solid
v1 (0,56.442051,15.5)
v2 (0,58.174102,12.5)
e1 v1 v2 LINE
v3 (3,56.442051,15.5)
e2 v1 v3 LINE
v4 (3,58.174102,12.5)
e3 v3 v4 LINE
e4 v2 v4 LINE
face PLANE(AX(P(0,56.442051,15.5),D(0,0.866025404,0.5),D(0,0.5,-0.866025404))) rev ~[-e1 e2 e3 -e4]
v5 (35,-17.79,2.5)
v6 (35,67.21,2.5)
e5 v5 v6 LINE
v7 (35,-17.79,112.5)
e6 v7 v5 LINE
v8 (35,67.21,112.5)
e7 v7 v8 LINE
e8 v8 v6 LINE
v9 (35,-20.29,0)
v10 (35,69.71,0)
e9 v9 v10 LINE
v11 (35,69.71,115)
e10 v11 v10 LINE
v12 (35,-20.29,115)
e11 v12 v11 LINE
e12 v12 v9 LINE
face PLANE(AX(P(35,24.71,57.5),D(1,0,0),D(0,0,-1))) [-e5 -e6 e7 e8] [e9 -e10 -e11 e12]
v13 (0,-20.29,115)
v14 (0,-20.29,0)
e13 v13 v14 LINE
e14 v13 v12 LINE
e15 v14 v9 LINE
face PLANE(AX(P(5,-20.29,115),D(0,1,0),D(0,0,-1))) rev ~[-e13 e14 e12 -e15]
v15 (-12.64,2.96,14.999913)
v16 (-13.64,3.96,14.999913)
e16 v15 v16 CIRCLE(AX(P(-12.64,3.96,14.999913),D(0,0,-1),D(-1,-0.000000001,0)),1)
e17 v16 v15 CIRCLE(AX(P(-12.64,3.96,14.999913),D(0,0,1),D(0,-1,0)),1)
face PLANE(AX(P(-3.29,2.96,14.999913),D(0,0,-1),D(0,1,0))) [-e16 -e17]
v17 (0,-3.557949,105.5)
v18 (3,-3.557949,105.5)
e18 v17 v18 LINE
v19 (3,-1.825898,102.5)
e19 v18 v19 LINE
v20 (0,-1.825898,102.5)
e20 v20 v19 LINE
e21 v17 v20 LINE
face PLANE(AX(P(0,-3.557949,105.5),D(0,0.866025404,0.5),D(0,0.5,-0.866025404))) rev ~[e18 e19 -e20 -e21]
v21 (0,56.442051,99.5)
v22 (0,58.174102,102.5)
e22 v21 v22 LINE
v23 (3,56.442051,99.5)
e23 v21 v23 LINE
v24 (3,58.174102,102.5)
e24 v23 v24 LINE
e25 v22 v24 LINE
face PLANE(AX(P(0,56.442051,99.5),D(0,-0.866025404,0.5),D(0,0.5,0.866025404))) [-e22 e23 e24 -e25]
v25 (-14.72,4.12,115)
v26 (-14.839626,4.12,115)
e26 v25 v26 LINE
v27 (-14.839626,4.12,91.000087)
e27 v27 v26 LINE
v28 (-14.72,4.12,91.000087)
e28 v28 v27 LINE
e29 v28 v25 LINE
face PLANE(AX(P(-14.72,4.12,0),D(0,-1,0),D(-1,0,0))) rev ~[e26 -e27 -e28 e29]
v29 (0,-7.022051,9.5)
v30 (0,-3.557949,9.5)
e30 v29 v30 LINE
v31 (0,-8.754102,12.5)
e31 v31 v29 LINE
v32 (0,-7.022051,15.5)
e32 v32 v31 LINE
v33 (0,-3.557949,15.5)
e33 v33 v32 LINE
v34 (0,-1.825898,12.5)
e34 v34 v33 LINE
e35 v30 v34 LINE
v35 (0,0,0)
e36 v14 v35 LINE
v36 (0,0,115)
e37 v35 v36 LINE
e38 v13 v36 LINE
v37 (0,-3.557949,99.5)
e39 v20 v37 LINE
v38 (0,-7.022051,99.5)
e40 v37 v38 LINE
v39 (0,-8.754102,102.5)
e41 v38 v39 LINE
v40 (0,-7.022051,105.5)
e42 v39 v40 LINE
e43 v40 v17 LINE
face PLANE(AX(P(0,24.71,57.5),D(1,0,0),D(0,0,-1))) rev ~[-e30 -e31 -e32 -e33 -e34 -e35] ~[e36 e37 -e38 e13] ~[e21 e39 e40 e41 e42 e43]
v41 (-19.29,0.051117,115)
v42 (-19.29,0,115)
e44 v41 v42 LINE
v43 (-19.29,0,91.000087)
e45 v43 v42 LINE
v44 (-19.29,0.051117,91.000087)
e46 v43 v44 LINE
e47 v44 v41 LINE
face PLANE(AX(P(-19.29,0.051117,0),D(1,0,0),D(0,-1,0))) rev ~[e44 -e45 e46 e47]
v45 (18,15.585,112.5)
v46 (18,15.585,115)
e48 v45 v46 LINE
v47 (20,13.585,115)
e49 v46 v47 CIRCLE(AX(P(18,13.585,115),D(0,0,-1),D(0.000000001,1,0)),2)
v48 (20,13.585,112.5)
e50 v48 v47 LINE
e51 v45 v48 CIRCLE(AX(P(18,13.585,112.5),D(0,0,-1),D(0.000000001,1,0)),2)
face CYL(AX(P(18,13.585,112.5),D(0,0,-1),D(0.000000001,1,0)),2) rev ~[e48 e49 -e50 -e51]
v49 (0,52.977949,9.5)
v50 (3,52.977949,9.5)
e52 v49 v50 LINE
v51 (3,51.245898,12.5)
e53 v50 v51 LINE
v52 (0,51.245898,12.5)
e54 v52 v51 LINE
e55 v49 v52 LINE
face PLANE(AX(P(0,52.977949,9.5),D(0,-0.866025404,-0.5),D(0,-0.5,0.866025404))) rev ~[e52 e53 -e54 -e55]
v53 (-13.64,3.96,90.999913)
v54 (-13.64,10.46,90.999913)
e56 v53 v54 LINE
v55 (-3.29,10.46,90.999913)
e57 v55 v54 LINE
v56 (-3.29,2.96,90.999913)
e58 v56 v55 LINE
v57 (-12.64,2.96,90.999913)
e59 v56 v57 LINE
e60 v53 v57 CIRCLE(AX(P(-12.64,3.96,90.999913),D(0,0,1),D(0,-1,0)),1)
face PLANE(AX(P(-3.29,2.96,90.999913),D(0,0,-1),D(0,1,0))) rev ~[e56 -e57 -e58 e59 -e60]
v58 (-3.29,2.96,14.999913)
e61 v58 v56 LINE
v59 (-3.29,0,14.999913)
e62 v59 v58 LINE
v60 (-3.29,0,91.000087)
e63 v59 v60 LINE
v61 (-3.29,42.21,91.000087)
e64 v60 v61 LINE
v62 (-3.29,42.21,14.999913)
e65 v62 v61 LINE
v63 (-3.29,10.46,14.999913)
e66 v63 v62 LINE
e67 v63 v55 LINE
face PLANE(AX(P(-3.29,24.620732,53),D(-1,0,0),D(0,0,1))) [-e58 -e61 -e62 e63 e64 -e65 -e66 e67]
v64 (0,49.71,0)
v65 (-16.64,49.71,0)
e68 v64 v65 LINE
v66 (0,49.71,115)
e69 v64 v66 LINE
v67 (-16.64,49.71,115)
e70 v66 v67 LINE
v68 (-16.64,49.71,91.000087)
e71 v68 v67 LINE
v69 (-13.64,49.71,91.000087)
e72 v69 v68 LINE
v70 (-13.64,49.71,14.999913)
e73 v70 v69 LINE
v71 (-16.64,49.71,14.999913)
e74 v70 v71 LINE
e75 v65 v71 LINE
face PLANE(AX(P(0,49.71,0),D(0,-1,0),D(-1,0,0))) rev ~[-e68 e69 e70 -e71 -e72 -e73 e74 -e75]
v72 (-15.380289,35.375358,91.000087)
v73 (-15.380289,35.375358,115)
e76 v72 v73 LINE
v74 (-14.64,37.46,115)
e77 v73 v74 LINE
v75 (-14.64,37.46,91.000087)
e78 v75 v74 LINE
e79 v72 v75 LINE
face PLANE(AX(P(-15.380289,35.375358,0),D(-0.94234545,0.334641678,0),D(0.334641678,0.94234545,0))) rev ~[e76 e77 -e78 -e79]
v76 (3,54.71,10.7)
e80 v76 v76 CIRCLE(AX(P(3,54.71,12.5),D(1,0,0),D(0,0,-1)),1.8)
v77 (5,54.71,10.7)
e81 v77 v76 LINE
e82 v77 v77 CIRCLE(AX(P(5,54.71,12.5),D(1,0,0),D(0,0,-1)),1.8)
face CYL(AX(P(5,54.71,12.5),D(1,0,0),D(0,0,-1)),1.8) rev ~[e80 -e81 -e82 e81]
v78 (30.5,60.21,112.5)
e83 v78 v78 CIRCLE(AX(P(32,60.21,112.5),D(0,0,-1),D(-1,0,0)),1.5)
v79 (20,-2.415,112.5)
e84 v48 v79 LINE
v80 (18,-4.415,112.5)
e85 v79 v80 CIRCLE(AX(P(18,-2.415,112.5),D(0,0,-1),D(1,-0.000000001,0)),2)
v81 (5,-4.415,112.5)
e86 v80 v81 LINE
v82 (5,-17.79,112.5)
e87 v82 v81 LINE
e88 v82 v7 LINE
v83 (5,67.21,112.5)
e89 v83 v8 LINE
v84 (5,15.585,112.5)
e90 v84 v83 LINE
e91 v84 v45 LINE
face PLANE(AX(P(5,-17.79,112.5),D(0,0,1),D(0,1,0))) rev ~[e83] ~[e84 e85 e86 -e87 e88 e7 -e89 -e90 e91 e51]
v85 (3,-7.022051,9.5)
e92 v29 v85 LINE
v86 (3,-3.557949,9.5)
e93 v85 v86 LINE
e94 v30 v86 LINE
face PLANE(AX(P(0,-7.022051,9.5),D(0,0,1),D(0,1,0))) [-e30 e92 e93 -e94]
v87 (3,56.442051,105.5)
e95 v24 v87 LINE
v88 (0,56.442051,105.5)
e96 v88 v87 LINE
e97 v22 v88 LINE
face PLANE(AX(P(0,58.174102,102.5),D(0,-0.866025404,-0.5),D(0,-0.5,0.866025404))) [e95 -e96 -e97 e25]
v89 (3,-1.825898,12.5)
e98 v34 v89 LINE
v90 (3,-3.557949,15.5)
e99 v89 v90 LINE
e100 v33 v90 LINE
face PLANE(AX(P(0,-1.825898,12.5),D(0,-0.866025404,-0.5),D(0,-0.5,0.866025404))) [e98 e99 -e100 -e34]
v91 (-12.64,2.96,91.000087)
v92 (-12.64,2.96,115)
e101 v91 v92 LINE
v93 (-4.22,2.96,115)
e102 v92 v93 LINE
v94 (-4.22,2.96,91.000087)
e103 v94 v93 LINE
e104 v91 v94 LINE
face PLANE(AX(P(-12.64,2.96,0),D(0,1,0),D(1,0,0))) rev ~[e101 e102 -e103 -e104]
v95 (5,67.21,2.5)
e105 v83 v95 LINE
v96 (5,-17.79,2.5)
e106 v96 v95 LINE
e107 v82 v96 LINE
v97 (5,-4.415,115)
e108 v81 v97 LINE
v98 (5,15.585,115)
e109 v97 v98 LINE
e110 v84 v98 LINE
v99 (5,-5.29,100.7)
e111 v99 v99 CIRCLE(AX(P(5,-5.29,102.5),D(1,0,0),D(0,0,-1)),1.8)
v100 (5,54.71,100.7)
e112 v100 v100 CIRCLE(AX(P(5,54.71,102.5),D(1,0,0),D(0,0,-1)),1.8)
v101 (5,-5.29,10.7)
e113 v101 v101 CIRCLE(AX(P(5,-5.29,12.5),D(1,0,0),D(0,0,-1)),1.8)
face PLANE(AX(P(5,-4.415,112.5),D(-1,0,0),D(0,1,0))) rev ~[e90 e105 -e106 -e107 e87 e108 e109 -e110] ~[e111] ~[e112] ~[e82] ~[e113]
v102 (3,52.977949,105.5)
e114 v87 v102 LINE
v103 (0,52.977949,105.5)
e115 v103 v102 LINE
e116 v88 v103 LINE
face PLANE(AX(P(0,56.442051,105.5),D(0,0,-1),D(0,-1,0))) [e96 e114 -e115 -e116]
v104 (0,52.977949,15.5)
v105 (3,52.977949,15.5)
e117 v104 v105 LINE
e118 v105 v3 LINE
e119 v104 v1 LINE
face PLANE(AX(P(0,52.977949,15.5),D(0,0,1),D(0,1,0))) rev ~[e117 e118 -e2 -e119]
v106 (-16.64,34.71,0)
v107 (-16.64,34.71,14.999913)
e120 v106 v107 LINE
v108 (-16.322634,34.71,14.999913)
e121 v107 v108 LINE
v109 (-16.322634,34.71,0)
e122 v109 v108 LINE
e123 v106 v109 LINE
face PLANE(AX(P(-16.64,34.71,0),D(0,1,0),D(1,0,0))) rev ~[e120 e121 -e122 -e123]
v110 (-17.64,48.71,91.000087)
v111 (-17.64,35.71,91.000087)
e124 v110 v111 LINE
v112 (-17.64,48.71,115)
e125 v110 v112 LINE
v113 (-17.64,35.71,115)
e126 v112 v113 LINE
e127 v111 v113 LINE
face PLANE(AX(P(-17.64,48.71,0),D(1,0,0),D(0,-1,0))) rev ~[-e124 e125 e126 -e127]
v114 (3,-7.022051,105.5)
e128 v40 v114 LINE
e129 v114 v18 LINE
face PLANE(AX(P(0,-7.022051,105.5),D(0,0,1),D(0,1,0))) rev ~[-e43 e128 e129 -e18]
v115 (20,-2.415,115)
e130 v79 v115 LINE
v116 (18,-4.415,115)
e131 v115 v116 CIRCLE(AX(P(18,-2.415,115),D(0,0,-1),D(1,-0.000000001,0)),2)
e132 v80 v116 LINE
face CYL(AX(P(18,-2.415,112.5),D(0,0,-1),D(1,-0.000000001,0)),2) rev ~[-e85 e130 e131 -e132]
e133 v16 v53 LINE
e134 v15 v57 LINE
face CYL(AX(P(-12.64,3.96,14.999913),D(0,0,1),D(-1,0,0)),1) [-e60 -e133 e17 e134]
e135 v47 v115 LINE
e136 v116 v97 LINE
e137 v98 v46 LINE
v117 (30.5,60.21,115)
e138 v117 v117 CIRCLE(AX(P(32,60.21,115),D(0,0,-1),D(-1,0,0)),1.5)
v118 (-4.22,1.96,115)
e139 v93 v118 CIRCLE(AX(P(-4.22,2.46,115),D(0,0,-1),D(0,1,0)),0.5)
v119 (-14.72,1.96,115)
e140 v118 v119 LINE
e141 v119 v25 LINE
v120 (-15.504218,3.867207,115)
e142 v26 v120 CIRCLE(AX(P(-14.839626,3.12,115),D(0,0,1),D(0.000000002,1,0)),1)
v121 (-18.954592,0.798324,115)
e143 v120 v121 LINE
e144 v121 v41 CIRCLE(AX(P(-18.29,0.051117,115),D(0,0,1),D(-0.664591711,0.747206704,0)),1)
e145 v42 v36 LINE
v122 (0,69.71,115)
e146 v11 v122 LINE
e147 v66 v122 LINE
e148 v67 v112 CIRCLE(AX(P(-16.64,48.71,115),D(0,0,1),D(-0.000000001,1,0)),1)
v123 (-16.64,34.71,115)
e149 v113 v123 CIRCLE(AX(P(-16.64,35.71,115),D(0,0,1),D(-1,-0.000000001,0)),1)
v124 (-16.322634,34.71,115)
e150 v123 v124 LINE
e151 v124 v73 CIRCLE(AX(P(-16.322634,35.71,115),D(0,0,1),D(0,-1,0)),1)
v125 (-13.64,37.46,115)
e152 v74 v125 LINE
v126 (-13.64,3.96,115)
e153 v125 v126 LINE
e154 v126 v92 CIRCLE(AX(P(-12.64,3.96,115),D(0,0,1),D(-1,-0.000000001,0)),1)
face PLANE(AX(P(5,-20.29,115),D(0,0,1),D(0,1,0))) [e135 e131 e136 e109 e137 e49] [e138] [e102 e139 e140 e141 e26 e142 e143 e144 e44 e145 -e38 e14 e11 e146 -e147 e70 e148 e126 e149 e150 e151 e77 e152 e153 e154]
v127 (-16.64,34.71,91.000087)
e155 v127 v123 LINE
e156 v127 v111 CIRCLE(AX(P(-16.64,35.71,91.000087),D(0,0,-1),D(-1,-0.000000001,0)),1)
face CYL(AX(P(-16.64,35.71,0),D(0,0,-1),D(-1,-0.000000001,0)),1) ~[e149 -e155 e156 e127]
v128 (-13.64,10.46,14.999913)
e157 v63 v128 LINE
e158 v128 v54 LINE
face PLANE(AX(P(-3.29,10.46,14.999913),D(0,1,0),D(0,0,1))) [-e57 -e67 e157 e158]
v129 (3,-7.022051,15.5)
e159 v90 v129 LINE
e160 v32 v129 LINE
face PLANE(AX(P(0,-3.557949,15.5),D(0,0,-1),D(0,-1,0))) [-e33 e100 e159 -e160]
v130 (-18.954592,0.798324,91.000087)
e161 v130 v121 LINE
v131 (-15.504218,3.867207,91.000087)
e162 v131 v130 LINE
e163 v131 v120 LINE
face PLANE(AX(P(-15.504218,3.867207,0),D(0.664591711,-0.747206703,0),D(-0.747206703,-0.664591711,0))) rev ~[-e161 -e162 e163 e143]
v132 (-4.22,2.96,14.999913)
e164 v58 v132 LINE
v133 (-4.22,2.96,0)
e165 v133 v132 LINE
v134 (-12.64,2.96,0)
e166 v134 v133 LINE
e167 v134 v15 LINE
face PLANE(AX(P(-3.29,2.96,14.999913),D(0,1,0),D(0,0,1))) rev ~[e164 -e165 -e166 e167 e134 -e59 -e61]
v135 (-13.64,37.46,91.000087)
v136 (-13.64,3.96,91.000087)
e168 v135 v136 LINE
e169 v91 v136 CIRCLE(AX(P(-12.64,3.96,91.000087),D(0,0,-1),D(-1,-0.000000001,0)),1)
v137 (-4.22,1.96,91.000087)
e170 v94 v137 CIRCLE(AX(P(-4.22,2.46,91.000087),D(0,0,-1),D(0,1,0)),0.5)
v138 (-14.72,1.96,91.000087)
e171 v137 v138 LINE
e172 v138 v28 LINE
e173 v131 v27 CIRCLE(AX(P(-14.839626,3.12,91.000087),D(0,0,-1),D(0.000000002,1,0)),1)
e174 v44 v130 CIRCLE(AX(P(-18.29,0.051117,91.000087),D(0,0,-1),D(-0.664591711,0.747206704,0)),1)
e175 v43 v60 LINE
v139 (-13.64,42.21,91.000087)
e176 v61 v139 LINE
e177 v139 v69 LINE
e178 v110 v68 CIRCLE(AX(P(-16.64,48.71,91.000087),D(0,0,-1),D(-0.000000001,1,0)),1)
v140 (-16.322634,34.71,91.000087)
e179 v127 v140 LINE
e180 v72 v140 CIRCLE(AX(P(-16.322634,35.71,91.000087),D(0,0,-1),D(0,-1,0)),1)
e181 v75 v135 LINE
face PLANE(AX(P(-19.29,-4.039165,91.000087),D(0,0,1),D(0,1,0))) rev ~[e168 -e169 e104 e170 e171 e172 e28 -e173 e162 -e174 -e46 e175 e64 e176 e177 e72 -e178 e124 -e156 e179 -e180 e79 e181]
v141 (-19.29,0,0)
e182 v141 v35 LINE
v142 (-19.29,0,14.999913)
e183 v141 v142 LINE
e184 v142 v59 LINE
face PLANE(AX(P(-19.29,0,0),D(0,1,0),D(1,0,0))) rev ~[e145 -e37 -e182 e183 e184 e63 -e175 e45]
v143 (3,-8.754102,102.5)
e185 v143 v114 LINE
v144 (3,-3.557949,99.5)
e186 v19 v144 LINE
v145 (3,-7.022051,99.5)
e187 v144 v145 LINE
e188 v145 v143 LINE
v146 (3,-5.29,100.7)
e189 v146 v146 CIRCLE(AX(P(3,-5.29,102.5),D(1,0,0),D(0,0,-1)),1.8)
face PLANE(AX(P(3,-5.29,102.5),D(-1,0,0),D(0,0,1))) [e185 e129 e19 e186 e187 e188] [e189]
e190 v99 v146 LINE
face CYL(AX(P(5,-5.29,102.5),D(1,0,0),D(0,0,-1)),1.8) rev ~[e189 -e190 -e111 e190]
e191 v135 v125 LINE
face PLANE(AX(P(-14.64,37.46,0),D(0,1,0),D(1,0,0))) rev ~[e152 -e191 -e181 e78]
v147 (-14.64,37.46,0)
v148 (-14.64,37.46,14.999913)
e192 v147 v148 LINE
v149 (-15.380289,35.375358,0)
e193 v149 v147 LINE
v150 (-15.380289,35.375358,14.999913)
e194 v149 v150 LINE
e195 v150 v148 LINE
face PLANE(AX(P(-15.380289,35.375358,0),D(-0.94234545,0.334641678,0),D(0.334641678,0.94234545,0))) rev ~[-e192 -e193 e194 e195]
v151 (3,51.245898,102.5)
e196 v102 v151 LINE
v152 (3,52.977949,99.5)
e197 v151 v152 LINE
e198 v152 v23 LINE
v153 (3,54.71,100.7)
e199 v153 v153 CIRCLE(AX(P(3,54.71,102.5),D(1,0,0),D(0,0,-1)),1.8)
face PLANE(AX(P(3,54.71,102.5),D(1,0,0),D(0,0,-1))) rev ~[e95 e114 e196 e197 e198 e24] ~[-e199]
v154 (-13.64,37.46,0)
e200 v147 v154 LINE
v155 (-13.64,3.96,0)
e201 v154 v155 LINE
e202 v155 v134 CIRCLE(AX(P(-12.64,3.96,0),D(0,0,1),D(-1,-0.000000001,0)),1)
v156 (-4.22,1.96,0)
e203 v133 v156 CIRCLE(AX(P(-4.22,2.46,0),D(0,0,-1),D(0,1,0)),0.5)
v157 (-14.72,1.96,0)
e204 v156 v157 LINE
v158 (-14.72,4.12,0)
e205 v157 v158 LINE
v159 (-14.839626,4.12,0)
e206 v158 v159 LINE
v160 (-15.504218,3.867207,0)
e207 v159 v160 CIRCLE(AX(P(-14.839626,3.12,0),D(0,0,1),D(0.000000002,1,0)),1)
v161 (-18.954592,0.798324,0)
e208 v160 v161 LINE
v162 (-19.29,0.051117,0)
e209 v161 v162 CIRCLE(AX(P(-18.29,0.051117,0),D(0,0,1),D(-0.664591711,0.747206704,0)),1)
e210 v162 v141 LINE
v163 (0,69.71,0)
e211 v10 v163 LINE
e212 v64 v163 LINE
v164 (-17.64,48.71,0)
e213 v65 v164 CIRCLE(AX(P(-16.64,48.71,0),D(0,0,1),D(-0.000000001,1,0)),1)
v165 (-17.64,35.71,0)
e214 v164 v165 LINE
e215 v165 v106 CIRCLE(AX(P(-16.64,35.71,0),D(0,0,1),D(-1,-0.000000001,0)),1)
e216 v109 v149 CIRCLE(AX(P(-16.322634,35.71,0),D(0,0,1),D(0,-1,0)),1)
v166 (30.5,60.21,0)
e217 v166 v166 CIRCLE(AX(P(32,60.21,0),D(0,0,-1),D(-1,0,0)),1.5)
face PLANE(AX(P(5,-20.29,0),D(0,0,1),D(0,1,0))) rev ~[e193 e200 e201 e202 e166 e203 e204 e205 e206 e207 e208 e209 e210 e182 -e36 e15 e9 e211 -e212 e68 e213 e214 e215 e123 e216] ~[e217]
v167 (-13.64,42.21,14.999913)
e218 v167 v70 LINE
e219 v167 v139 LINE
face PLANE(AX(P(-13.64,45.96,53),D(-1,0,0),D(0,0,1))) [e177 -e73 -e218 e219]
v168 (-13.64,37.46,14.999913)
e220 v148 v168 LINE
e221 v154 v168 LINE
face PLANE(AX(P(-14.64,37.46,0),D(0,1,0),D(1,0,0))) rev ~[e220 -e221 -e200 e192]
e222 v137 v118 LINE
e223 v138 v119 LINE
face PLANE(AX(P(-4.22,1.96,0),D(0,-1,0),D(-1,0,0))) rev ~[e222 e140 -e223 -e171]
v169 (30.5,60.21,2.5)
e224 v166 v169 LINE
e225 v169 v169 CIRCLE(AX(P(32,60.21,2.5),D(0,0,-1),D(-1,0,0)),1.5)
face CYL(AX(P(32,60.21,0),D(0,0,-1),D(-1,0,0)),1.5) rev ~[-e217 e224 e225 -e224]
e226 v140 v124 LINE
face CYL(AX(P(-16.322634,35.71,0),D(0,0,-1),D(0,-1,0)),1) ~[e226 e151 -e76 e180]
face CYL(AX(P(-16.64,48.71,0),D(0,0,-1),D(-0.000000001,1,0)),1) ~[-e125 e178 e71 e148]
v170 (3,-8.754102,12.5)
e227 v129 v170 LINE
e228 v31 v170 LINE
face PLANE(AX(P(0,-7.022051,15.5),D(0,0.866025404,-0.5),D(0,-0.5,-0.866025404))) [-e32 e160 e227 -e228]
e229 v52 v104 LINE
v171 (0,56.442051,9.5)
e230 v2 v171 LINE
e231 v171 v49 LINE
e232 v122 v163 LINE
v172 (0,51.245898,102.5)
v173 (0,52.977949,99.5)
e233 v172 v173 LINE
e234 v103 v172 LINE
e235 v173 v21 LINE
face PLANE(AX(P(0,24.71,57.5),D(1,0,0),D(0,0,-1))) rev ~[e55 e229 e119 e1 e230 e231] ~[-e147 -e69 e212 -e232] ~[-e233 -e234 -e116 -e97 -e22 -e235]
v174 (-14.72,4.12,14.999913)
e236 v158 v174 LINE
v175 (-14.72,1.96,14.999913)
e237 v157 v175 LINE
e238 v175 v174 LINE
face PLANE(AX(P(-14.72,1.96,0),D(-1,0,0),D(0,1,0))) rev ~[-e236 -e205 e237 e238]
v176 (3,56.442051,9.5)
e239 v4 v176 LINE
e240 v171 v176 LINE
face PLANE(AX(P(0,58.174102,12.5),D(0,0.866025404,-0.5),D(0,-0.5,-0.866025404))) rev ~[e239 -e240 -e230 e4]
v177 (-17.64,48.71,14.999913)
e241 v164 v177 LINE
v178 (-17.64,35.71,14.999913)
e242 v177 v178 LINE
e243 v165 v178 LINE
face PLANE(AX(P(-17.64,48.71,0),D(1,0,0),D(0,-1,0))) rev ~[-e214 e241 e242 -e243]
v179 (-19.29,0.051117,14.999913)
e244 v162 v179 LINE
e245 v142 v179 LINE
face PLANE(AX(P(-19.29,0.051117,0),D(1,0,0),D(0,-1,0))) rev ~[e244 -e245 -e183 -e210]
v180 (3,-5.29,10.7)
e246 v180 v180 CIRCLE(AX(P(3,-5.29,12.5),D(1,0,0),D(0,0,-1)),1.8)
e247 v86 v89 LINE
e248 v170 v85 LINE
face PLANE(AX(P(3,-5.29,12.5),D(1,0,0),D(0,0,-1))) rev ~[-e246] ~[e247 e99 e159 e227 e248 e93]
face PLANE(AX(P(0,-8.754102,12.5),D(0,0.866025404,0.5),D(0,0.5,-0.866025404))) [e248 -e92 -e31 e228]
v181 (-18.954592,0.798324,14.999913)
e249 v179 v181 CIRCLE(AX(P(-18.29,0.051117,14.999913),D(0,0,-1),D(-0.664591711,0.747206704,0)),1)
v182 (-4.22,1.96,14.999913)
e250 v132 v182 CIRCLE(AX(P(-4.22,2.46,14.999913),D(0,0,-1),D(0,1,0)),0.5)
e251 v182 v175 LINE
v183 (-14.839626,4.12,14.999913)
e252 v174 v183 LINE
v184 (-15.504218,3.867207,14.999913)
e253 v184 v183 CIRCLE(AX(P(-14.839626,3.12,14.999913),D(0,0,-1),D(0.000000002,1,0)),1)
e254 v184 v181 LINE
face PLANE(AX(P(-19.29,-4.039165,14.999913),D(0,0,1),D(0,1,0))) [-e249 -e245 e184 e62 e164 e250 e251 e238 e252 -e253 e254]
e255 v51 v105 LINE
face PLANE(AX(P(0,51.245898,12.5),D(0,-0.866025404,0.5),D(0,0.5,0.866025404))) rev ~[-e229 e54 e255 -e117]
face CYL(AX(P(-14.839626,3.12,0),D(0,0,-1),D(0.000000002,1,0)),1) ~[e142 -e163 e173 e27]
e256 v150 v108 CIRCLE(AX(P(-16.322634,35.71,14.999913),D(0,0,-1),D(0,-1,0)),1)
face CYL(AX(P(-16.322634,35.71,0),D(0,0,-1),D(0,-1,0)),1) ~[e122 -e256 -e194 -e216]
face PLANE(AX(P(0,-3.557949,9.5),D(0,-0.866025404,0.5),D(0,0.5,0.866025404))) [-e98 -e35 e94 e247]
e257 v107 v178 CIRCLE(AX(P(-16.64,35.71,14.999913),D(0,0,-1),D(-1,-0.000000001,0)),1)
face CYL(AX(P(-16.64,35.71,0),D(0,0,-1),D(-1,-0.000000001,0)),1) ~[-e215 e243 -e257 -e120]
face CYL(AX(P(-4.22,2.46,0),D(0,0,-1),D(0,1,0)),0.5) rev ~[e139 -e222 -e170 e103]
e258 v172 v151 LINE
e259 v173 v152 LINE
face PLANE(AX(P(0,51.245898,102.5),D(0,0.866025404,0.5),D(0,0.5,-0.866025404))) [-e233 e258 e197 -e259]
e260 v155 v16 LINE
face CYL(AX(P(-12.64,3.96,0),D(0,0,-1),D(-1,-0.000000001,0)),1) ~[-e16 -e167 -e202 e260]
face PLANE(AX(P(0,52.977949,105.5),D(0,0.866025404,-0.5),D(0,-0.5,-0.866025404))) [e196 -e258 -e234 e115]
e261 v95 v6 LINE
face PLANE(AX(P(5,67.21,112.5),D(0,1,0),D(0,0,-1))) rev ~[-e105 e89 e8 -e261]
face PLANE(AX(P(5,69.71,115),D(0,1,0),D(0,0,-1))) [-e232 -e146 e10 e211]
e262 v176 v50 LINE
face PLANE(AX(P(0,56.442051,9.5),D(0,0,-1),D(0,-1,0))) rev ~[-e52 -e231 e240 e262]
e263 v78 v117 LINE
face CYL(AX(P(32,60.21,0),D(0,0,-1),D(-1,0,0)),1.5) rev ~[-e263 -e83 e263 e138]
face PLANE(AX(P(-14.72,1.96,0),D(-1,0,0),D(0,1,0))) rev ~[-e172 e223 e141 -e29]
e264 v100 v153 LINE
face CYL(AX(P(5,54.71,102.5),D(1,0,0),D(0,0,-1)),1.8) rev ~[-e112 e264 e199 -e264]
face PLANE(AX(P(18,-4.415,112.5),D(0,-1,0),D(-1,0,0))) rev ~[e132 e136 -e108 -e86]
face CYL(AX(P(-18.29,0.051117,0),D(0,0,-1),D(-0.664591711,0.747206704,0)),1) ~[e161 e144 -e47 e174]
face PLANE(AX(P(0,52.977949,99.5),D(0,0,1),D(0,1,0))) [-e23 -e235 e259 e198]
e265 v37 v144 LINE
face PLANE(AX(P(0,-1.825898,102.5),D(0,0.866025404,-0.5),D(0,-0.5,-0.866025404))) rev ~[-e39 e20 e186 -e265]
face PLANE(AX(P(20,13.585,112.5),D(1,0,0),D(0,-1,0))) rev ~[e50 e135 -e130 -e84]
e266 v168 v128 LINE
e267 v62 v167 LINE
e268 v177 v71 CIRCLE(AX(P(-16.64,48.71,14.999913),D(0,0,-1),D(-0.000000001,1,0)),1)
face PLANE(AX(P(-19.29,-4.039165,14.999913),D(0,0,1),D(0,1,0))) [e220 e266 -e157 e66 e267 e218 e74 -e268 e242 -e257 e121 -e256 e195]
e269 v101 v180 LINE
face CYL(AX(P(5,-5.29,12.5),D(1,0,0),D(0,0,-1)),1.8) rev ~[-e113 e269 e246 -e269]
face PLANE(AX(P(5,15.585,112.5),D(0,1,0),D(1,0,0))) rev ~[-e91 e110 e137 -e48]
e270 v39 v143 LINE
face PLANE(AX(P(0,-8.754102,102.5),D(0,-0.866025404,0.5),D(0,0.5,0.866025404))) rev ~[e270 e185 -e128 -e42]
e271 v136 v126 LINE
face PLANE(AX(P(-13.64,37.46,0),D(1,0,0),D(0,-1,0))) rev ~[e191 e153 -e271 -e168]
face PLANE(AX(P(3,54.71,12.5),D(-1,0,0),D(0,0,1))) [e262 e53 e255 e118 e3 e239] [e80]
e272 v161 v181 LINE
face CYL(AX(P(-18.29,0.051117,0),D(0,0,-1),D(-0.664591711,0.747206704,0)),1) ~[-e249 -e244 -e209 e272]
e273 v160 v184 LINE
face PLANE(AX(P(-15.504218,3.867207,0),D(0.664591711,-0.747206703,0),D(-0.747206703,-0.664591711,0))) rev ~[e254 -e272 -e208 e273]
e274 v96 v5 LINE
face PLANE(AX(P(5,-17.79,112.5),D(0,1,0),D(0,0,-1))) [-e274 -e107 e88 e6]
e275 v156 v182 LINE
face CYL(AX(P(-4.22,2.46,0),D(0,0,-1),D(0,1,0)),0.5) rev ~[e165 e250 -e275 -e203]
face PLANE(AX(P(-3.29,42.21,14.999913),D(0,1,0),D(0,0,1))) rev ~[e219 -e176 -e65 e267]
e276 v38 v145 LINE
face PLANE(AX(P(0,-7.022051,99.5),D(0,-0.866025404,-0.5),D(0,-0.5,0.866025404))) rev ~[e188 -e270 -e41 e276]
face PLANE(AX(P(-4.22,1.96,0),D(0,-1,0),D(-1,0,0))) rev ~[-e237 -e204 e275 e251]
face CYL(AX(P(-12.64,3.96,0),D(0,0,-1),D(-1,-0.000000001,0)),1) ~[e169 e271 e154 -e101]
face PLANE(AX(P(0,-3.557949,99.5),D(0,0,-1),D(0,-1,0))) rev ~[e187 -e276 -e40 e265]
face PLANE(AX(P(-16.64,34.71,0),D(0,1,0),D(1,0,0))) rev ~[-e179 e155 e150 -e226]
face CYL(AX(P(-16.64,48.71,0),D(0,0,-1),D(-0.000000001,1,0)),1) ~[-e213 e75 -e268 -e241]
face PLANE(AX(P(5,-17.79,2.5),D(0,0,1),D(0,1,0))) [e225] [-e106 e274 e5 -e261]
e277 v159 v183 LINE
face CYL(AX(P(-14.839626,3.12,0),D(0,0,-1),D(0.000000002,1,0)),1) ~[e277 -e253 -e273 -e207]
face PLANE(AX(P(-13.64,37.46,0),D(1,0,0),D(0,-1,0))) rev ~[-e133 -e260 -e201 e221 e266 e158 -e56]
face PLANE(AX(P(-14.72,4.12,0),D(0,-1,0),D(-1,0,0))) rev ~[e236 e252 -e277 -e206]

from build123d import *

# Parameters (mm, degrees)
SALIENTE_EXTRUIR1_DEPTH = 115
CROQUIS5_W              = 76.000174198
CROQUIS5_H              = 57.319794633
CORTAR_EXTRUIR2_DEPTH   = 16
CROQUIS6_W              = 76.000174198
CROQUIS6_H              = 7.5
CROQUIS6_W_2            = 76
SALIENTE_EXTRUIR2_DEPTH = 10.35
REDONDEO1_R             = 1
CROQUIS7_W              = 115
CROQUIS7_H              = 90
SALIENTE_EXTRUIR3_DEPTH = 5
CROQUIS14_W             = 115
CROQUIS14_H             = 90
CROQUIS14_W_2           = 110
CROQUIS14_H_2           = 85
SALIENTE_EXTRUIR5_DEPTH = 30
CORTAR_EXTRUIR5_REACH   = 26.29
CROQUIS15_R             = 1.8
CORTAR_EXTRUIR6_REACH   = 4.5
CORTAR_EXTRUIR7_DEPTH   = 3
CROQUIS19_R             = 1.5
CORTAR_EXTRUIR8_DEPTH   = 116


with BuildPart() as part:
    # Croquis1 → Saliente-Extruir1 (new body)
    with BuildSketch(Plane.XY):
        with BuildLine():
            Line((0, 49.71), (-16.64, 49.71))
            ThreePointArc((-16.64, 49.71), (-17.347106781, 49.417106781), (-17.64, 48.71))
            Line((-17.64, 48.71), (-17.64, 35.71))
            ThreePointArc((-17.64, 35.71), (-17.347106781, 35.002893219), (-16.64, 34.71))
            Line((-16.64, 34.71), (-16.322634469, 34.71))
            ThreePointArc((-16.322634469, 34.71), (-15.745851008, 34.89310292), (-15.380289019, 35.375358322))
            Line((-15.380289019, 35.375358322), (-14.64, 37.46))
            Line((-14.64, 37.46), (-13.64, 37.46))
            Line((-13.64, 37.46), (-13.64, 3.96))
            ThreePointArc((-13.64, 3.96), (-13.347106781, 3.252893219), (-12.64, 2.96))
            Line((-12.64, 2.96), (-4.22, 2.96))
            ThreePointArc((-4.22, 2.96), (-3.72, 2.46), (-4.22, 1.96))
            Line((-4.22, 1.96), (-14.72, 1.96))
            Line((-14.72, 1.96), (-14.72, 4.12))
            Line((-14.72, 4.12), (-14.839626167, 4.12))
            ThreePointArc((-14.839626167, 4.12), (-15.19514923, 4.054667509), (-15.504217878, 3.867206703))
            Line((-15.504217878, 3.867206703), (-18.954591711, 0.798323834))
            ThreePointArc((-18.954591711, 0.798323834), (-19.202302502, 0.460634096), (-19.29, 0.051117131))
            Line((-19.29, 0.051117131), (-19.29, 0))
            Line((-19.29, 0), (0, 0))
            Line((0, 0), (0, 49.71))
        make_face()
    extrude(amount=SALIENTE_EXTRUIR1_DEPTH)

    # Croquis5 → Cortar-Extruir2 (cut)
    with BuildSketch(Plane.ZY.offset(19.29)):
        with Locations((53, 24.620732186)):
            Rectangle(CROQUIS5_W, CROQUIS5_H)
    extrude(amount=-CORTAR_EXTRUIR2_DEPTH, mode=Mode.SUBTRACT)

    # Croquis6 → Saliente-Extruir2 (add)
    with BuildSketch(Plane.ZY.offset(3.29)):
        with Locations((53, 45.96)):
            Rectangle(CROQUIS6_W, CROQUIS6_H)
        with Locations((52.999912901, 6.71)):
            Rectangle(CROQUIS6_W_2, CROQUIS6_H)
    extrude(amount=SALIENTE_EXTRUIR2_DEPTH)

    # Redondeo1
    redondeo1_edges = [part.edges().sort_by_distance(p)[0] for p in [
        (-13.64, 2.96, 52.999912901),
    ]]
    fillet(redondeo1_edges, radius=REDONDEO1_R)

    # Croquis7 → Saliente-Extruir3 (add)
    with BuildSketch(Plane(origin=(0, 0, 0), x_dir=(0, 0, -1), z_dir=(1, 0, 0))):
        with Locations((-57.5, 24.71)):
            Rectangle(CROQUIS7_W, CROQUIS7_H)
    extrude(amount=SALIENTE_EXTRUIR3_DEPTH)

    # Croquis14 → Saliente-Extruir5 (add)
    with BuildSketch(Plane(origin=(5, 0, 0), x_dir=(0, 0, -1), z_dir=(1, 0, 0))):
        with Locations((-57.5, 24.71)):
            Rectangle(CROQUIS14_W, CROQUIS14_H)
        with Locations((-57.5, 24.71)):
            Rectangle(CROQUIS14_W_2, CROQUIS14_H_2, mode=Mode.SUBTRACT)
    extrude(amount=SALIENTE_EXTRUIR5_DEPTH)

    # Croquis15 → Cortar-Extruir5 (cut, up to next)
    with BuildSketch(Plane(origin=(5, 0, 0), x_dir=(0, 0, -1), z_dir=(1, 0, 0)), mode=Mode.PRIVATE) as cortar_extruir5_sk1:
        with Locations((-102.5, 54.71)):
            Circle(CROQUIS15_R)
    cortar_extruir5_tool1 = extrude(cortar_extruir5_sk1.sketch, amount=-CORTAR_EXTRUIR5_REACH, mode=Mode.PRIVATE) & part.part
    add(cortar_extruir5_tool1.solids().sort_by_distance((5, 54.71, 102.5))[0], mode=Mode.SUBTRACT)
    # Croquis15 → Cortar-Extruir5 (cut, up to next)
    with BuildSketch(Plane(origin=(5, 0, 0), x_dir=(0, 0, -1), z_dir=(1, 0, 0)), mode=Mode.PRIVATE) as cortar_extruir5_sk2:
        with Locations((-102.5, -5.29)):
            Circle(CROQUIS15_R)
    cortar_extruir5_tool2 = extrude(cortar_extruir5_sk2.sketch, amount=-CORTAR_EXTRUIR5_REACH, mode=Mode.PRIVATE) & part.part
    add(cortar_extruir5_tool2.solids().sort_by_distance((5, -5.29, 102.5))[0], mode=Mode.SUBTRACT)
    # Croquis15 → Cortar-Extruir5 (cut, up to next)
    with BuildSketch(Plane(origin=(5, 0, 0), x_dir=(0, 0, -1), z_dir=(1, 0, 0)), mode=Mode.PRIVATE) as cortar_extruir5_sk3:
        with Locations((-12.5, -5.29)):
            Circle(CROQUIS15_R)
    cortar_extruir5_tool3 = extrude(cortar_extruir5_sk3.sketch, amount=-CORTAR_EXTRUIR5_REACH, mode=Mode.PRIVATE) & part.part
    add(cortar_extruir5_tool3.solids().sort_by_distance((5, -5.29, 12.5))[0], mode=Mode.SUBTRACT)
    # Croquis15 → Cortar-Extruir5 (cut, up to next)
    with BuildSketch(Plane(origin=(5, 0, 0), x_dir=(0, 0, -1), z_dir=(1, 0, 0)), mode=Mode.PRIVATE) as cortar_extruir5_sk4:
        with Locations((-12.5, 54.71)):
            Circle(CROQUIS15_R)
    cortar_extruir5_tool4 = extrude(cortar_extruir5_sk4.sketch, amount=-CORTAR_EXTRUIR5_REACH, mode=Mode.PRIVATE) & part.part
    add(cortar_extruir5_tool4.solids().sort_by_distance((5, 54.71, 12.5))[0], mode=Mode.SUBTRACT)

    # Croquis16 → Cortar-Extruir6 (cut, up to next)
    with BuildSketch(Plane(origin=(0, 0, 112.5), x_dir=(-1, 0, 0), z_dir=(0, 0, -1)), mode=Mode.PRIVATE) as cortar_extruir6_sk1:
        with BuildLine():
            Line((-5, -4.415), (-5, 15.585))
            Line((-5, 15.585), (-18, 15.585))
            ThreePointArc((-18, 15.585), (-19.414213562, 14.999213562), (-20, 13.585))
            Line((-20, 13.585), (-20, -2.415))
            ThreePointArc((-20, -2.415), (-19.414213562, -3.829213562), (-18, -4.415))
            Line((-18, -4.415), (-5, -4.415))
        make_face()
    cortar_extruir6_tool1 = extrude(cortar_extruir6_sk1.sketch, amount=-CORTAR_EXTRUIR6_REACH, mode=Mode.PRIVATE) & part.part
    add(cortar_extruir6_tool1.solids().sort_by_distance((12.459404, 5.585, 112.5))[0], mode=Mode.SUBTRACT)

    # Croquis17 → Cortar-Extruir7 (cut)
    with BuildSketch(Plane.ZY):
        Polygon((12.5, 51.245898385), (15.5, 52.977949192), (15.5, 56.442050808), (12.5, 58.174101615), (9.5, 56.442050808), (9.5, 52.977949192), align=None)
        Polygon((9.5, -3.557949192), (12.5, -1.825898385), (15.5, -3.557949192), (15.5, -7.022050808), (12.5, -8.754101615), (9.5, -7.022050808), align=None)
        Polygon((105.5, 52.977949192), (102.5, 51.245898385), (99.5, 52.977949192), (99.5, 56.442050808), (102.5, 58.174101615), (105.5, 56.442050808), align=None)
        Polygon((102.5, -1.825898385), (99.5, -3.557949192), (99.5, -7.022050808), (102.5, -8.754101615), (105.5, -7.022050808), (105.5, -3.557949192), align=None)
    extrude(amount=-CORTAR_EXTRUIR7_DEPTH, mode=Mode.SUBTRACT)

    # Croquis19 → Cortar-Extruir8 (cut, through all)
    with BuildSketch(Plane(origin=(0, 0, 0), x_dir=(-1, 0, 0), z_dir=(0, 0, -1))):
        with Locations((-32, 60.21)):
            Circle(CROQUIS19_R)
    extrude(amount=-CORTAR_EXTRUIR8_DEPTH, mode=Mode.SUBTRACT)


solid = part.part
